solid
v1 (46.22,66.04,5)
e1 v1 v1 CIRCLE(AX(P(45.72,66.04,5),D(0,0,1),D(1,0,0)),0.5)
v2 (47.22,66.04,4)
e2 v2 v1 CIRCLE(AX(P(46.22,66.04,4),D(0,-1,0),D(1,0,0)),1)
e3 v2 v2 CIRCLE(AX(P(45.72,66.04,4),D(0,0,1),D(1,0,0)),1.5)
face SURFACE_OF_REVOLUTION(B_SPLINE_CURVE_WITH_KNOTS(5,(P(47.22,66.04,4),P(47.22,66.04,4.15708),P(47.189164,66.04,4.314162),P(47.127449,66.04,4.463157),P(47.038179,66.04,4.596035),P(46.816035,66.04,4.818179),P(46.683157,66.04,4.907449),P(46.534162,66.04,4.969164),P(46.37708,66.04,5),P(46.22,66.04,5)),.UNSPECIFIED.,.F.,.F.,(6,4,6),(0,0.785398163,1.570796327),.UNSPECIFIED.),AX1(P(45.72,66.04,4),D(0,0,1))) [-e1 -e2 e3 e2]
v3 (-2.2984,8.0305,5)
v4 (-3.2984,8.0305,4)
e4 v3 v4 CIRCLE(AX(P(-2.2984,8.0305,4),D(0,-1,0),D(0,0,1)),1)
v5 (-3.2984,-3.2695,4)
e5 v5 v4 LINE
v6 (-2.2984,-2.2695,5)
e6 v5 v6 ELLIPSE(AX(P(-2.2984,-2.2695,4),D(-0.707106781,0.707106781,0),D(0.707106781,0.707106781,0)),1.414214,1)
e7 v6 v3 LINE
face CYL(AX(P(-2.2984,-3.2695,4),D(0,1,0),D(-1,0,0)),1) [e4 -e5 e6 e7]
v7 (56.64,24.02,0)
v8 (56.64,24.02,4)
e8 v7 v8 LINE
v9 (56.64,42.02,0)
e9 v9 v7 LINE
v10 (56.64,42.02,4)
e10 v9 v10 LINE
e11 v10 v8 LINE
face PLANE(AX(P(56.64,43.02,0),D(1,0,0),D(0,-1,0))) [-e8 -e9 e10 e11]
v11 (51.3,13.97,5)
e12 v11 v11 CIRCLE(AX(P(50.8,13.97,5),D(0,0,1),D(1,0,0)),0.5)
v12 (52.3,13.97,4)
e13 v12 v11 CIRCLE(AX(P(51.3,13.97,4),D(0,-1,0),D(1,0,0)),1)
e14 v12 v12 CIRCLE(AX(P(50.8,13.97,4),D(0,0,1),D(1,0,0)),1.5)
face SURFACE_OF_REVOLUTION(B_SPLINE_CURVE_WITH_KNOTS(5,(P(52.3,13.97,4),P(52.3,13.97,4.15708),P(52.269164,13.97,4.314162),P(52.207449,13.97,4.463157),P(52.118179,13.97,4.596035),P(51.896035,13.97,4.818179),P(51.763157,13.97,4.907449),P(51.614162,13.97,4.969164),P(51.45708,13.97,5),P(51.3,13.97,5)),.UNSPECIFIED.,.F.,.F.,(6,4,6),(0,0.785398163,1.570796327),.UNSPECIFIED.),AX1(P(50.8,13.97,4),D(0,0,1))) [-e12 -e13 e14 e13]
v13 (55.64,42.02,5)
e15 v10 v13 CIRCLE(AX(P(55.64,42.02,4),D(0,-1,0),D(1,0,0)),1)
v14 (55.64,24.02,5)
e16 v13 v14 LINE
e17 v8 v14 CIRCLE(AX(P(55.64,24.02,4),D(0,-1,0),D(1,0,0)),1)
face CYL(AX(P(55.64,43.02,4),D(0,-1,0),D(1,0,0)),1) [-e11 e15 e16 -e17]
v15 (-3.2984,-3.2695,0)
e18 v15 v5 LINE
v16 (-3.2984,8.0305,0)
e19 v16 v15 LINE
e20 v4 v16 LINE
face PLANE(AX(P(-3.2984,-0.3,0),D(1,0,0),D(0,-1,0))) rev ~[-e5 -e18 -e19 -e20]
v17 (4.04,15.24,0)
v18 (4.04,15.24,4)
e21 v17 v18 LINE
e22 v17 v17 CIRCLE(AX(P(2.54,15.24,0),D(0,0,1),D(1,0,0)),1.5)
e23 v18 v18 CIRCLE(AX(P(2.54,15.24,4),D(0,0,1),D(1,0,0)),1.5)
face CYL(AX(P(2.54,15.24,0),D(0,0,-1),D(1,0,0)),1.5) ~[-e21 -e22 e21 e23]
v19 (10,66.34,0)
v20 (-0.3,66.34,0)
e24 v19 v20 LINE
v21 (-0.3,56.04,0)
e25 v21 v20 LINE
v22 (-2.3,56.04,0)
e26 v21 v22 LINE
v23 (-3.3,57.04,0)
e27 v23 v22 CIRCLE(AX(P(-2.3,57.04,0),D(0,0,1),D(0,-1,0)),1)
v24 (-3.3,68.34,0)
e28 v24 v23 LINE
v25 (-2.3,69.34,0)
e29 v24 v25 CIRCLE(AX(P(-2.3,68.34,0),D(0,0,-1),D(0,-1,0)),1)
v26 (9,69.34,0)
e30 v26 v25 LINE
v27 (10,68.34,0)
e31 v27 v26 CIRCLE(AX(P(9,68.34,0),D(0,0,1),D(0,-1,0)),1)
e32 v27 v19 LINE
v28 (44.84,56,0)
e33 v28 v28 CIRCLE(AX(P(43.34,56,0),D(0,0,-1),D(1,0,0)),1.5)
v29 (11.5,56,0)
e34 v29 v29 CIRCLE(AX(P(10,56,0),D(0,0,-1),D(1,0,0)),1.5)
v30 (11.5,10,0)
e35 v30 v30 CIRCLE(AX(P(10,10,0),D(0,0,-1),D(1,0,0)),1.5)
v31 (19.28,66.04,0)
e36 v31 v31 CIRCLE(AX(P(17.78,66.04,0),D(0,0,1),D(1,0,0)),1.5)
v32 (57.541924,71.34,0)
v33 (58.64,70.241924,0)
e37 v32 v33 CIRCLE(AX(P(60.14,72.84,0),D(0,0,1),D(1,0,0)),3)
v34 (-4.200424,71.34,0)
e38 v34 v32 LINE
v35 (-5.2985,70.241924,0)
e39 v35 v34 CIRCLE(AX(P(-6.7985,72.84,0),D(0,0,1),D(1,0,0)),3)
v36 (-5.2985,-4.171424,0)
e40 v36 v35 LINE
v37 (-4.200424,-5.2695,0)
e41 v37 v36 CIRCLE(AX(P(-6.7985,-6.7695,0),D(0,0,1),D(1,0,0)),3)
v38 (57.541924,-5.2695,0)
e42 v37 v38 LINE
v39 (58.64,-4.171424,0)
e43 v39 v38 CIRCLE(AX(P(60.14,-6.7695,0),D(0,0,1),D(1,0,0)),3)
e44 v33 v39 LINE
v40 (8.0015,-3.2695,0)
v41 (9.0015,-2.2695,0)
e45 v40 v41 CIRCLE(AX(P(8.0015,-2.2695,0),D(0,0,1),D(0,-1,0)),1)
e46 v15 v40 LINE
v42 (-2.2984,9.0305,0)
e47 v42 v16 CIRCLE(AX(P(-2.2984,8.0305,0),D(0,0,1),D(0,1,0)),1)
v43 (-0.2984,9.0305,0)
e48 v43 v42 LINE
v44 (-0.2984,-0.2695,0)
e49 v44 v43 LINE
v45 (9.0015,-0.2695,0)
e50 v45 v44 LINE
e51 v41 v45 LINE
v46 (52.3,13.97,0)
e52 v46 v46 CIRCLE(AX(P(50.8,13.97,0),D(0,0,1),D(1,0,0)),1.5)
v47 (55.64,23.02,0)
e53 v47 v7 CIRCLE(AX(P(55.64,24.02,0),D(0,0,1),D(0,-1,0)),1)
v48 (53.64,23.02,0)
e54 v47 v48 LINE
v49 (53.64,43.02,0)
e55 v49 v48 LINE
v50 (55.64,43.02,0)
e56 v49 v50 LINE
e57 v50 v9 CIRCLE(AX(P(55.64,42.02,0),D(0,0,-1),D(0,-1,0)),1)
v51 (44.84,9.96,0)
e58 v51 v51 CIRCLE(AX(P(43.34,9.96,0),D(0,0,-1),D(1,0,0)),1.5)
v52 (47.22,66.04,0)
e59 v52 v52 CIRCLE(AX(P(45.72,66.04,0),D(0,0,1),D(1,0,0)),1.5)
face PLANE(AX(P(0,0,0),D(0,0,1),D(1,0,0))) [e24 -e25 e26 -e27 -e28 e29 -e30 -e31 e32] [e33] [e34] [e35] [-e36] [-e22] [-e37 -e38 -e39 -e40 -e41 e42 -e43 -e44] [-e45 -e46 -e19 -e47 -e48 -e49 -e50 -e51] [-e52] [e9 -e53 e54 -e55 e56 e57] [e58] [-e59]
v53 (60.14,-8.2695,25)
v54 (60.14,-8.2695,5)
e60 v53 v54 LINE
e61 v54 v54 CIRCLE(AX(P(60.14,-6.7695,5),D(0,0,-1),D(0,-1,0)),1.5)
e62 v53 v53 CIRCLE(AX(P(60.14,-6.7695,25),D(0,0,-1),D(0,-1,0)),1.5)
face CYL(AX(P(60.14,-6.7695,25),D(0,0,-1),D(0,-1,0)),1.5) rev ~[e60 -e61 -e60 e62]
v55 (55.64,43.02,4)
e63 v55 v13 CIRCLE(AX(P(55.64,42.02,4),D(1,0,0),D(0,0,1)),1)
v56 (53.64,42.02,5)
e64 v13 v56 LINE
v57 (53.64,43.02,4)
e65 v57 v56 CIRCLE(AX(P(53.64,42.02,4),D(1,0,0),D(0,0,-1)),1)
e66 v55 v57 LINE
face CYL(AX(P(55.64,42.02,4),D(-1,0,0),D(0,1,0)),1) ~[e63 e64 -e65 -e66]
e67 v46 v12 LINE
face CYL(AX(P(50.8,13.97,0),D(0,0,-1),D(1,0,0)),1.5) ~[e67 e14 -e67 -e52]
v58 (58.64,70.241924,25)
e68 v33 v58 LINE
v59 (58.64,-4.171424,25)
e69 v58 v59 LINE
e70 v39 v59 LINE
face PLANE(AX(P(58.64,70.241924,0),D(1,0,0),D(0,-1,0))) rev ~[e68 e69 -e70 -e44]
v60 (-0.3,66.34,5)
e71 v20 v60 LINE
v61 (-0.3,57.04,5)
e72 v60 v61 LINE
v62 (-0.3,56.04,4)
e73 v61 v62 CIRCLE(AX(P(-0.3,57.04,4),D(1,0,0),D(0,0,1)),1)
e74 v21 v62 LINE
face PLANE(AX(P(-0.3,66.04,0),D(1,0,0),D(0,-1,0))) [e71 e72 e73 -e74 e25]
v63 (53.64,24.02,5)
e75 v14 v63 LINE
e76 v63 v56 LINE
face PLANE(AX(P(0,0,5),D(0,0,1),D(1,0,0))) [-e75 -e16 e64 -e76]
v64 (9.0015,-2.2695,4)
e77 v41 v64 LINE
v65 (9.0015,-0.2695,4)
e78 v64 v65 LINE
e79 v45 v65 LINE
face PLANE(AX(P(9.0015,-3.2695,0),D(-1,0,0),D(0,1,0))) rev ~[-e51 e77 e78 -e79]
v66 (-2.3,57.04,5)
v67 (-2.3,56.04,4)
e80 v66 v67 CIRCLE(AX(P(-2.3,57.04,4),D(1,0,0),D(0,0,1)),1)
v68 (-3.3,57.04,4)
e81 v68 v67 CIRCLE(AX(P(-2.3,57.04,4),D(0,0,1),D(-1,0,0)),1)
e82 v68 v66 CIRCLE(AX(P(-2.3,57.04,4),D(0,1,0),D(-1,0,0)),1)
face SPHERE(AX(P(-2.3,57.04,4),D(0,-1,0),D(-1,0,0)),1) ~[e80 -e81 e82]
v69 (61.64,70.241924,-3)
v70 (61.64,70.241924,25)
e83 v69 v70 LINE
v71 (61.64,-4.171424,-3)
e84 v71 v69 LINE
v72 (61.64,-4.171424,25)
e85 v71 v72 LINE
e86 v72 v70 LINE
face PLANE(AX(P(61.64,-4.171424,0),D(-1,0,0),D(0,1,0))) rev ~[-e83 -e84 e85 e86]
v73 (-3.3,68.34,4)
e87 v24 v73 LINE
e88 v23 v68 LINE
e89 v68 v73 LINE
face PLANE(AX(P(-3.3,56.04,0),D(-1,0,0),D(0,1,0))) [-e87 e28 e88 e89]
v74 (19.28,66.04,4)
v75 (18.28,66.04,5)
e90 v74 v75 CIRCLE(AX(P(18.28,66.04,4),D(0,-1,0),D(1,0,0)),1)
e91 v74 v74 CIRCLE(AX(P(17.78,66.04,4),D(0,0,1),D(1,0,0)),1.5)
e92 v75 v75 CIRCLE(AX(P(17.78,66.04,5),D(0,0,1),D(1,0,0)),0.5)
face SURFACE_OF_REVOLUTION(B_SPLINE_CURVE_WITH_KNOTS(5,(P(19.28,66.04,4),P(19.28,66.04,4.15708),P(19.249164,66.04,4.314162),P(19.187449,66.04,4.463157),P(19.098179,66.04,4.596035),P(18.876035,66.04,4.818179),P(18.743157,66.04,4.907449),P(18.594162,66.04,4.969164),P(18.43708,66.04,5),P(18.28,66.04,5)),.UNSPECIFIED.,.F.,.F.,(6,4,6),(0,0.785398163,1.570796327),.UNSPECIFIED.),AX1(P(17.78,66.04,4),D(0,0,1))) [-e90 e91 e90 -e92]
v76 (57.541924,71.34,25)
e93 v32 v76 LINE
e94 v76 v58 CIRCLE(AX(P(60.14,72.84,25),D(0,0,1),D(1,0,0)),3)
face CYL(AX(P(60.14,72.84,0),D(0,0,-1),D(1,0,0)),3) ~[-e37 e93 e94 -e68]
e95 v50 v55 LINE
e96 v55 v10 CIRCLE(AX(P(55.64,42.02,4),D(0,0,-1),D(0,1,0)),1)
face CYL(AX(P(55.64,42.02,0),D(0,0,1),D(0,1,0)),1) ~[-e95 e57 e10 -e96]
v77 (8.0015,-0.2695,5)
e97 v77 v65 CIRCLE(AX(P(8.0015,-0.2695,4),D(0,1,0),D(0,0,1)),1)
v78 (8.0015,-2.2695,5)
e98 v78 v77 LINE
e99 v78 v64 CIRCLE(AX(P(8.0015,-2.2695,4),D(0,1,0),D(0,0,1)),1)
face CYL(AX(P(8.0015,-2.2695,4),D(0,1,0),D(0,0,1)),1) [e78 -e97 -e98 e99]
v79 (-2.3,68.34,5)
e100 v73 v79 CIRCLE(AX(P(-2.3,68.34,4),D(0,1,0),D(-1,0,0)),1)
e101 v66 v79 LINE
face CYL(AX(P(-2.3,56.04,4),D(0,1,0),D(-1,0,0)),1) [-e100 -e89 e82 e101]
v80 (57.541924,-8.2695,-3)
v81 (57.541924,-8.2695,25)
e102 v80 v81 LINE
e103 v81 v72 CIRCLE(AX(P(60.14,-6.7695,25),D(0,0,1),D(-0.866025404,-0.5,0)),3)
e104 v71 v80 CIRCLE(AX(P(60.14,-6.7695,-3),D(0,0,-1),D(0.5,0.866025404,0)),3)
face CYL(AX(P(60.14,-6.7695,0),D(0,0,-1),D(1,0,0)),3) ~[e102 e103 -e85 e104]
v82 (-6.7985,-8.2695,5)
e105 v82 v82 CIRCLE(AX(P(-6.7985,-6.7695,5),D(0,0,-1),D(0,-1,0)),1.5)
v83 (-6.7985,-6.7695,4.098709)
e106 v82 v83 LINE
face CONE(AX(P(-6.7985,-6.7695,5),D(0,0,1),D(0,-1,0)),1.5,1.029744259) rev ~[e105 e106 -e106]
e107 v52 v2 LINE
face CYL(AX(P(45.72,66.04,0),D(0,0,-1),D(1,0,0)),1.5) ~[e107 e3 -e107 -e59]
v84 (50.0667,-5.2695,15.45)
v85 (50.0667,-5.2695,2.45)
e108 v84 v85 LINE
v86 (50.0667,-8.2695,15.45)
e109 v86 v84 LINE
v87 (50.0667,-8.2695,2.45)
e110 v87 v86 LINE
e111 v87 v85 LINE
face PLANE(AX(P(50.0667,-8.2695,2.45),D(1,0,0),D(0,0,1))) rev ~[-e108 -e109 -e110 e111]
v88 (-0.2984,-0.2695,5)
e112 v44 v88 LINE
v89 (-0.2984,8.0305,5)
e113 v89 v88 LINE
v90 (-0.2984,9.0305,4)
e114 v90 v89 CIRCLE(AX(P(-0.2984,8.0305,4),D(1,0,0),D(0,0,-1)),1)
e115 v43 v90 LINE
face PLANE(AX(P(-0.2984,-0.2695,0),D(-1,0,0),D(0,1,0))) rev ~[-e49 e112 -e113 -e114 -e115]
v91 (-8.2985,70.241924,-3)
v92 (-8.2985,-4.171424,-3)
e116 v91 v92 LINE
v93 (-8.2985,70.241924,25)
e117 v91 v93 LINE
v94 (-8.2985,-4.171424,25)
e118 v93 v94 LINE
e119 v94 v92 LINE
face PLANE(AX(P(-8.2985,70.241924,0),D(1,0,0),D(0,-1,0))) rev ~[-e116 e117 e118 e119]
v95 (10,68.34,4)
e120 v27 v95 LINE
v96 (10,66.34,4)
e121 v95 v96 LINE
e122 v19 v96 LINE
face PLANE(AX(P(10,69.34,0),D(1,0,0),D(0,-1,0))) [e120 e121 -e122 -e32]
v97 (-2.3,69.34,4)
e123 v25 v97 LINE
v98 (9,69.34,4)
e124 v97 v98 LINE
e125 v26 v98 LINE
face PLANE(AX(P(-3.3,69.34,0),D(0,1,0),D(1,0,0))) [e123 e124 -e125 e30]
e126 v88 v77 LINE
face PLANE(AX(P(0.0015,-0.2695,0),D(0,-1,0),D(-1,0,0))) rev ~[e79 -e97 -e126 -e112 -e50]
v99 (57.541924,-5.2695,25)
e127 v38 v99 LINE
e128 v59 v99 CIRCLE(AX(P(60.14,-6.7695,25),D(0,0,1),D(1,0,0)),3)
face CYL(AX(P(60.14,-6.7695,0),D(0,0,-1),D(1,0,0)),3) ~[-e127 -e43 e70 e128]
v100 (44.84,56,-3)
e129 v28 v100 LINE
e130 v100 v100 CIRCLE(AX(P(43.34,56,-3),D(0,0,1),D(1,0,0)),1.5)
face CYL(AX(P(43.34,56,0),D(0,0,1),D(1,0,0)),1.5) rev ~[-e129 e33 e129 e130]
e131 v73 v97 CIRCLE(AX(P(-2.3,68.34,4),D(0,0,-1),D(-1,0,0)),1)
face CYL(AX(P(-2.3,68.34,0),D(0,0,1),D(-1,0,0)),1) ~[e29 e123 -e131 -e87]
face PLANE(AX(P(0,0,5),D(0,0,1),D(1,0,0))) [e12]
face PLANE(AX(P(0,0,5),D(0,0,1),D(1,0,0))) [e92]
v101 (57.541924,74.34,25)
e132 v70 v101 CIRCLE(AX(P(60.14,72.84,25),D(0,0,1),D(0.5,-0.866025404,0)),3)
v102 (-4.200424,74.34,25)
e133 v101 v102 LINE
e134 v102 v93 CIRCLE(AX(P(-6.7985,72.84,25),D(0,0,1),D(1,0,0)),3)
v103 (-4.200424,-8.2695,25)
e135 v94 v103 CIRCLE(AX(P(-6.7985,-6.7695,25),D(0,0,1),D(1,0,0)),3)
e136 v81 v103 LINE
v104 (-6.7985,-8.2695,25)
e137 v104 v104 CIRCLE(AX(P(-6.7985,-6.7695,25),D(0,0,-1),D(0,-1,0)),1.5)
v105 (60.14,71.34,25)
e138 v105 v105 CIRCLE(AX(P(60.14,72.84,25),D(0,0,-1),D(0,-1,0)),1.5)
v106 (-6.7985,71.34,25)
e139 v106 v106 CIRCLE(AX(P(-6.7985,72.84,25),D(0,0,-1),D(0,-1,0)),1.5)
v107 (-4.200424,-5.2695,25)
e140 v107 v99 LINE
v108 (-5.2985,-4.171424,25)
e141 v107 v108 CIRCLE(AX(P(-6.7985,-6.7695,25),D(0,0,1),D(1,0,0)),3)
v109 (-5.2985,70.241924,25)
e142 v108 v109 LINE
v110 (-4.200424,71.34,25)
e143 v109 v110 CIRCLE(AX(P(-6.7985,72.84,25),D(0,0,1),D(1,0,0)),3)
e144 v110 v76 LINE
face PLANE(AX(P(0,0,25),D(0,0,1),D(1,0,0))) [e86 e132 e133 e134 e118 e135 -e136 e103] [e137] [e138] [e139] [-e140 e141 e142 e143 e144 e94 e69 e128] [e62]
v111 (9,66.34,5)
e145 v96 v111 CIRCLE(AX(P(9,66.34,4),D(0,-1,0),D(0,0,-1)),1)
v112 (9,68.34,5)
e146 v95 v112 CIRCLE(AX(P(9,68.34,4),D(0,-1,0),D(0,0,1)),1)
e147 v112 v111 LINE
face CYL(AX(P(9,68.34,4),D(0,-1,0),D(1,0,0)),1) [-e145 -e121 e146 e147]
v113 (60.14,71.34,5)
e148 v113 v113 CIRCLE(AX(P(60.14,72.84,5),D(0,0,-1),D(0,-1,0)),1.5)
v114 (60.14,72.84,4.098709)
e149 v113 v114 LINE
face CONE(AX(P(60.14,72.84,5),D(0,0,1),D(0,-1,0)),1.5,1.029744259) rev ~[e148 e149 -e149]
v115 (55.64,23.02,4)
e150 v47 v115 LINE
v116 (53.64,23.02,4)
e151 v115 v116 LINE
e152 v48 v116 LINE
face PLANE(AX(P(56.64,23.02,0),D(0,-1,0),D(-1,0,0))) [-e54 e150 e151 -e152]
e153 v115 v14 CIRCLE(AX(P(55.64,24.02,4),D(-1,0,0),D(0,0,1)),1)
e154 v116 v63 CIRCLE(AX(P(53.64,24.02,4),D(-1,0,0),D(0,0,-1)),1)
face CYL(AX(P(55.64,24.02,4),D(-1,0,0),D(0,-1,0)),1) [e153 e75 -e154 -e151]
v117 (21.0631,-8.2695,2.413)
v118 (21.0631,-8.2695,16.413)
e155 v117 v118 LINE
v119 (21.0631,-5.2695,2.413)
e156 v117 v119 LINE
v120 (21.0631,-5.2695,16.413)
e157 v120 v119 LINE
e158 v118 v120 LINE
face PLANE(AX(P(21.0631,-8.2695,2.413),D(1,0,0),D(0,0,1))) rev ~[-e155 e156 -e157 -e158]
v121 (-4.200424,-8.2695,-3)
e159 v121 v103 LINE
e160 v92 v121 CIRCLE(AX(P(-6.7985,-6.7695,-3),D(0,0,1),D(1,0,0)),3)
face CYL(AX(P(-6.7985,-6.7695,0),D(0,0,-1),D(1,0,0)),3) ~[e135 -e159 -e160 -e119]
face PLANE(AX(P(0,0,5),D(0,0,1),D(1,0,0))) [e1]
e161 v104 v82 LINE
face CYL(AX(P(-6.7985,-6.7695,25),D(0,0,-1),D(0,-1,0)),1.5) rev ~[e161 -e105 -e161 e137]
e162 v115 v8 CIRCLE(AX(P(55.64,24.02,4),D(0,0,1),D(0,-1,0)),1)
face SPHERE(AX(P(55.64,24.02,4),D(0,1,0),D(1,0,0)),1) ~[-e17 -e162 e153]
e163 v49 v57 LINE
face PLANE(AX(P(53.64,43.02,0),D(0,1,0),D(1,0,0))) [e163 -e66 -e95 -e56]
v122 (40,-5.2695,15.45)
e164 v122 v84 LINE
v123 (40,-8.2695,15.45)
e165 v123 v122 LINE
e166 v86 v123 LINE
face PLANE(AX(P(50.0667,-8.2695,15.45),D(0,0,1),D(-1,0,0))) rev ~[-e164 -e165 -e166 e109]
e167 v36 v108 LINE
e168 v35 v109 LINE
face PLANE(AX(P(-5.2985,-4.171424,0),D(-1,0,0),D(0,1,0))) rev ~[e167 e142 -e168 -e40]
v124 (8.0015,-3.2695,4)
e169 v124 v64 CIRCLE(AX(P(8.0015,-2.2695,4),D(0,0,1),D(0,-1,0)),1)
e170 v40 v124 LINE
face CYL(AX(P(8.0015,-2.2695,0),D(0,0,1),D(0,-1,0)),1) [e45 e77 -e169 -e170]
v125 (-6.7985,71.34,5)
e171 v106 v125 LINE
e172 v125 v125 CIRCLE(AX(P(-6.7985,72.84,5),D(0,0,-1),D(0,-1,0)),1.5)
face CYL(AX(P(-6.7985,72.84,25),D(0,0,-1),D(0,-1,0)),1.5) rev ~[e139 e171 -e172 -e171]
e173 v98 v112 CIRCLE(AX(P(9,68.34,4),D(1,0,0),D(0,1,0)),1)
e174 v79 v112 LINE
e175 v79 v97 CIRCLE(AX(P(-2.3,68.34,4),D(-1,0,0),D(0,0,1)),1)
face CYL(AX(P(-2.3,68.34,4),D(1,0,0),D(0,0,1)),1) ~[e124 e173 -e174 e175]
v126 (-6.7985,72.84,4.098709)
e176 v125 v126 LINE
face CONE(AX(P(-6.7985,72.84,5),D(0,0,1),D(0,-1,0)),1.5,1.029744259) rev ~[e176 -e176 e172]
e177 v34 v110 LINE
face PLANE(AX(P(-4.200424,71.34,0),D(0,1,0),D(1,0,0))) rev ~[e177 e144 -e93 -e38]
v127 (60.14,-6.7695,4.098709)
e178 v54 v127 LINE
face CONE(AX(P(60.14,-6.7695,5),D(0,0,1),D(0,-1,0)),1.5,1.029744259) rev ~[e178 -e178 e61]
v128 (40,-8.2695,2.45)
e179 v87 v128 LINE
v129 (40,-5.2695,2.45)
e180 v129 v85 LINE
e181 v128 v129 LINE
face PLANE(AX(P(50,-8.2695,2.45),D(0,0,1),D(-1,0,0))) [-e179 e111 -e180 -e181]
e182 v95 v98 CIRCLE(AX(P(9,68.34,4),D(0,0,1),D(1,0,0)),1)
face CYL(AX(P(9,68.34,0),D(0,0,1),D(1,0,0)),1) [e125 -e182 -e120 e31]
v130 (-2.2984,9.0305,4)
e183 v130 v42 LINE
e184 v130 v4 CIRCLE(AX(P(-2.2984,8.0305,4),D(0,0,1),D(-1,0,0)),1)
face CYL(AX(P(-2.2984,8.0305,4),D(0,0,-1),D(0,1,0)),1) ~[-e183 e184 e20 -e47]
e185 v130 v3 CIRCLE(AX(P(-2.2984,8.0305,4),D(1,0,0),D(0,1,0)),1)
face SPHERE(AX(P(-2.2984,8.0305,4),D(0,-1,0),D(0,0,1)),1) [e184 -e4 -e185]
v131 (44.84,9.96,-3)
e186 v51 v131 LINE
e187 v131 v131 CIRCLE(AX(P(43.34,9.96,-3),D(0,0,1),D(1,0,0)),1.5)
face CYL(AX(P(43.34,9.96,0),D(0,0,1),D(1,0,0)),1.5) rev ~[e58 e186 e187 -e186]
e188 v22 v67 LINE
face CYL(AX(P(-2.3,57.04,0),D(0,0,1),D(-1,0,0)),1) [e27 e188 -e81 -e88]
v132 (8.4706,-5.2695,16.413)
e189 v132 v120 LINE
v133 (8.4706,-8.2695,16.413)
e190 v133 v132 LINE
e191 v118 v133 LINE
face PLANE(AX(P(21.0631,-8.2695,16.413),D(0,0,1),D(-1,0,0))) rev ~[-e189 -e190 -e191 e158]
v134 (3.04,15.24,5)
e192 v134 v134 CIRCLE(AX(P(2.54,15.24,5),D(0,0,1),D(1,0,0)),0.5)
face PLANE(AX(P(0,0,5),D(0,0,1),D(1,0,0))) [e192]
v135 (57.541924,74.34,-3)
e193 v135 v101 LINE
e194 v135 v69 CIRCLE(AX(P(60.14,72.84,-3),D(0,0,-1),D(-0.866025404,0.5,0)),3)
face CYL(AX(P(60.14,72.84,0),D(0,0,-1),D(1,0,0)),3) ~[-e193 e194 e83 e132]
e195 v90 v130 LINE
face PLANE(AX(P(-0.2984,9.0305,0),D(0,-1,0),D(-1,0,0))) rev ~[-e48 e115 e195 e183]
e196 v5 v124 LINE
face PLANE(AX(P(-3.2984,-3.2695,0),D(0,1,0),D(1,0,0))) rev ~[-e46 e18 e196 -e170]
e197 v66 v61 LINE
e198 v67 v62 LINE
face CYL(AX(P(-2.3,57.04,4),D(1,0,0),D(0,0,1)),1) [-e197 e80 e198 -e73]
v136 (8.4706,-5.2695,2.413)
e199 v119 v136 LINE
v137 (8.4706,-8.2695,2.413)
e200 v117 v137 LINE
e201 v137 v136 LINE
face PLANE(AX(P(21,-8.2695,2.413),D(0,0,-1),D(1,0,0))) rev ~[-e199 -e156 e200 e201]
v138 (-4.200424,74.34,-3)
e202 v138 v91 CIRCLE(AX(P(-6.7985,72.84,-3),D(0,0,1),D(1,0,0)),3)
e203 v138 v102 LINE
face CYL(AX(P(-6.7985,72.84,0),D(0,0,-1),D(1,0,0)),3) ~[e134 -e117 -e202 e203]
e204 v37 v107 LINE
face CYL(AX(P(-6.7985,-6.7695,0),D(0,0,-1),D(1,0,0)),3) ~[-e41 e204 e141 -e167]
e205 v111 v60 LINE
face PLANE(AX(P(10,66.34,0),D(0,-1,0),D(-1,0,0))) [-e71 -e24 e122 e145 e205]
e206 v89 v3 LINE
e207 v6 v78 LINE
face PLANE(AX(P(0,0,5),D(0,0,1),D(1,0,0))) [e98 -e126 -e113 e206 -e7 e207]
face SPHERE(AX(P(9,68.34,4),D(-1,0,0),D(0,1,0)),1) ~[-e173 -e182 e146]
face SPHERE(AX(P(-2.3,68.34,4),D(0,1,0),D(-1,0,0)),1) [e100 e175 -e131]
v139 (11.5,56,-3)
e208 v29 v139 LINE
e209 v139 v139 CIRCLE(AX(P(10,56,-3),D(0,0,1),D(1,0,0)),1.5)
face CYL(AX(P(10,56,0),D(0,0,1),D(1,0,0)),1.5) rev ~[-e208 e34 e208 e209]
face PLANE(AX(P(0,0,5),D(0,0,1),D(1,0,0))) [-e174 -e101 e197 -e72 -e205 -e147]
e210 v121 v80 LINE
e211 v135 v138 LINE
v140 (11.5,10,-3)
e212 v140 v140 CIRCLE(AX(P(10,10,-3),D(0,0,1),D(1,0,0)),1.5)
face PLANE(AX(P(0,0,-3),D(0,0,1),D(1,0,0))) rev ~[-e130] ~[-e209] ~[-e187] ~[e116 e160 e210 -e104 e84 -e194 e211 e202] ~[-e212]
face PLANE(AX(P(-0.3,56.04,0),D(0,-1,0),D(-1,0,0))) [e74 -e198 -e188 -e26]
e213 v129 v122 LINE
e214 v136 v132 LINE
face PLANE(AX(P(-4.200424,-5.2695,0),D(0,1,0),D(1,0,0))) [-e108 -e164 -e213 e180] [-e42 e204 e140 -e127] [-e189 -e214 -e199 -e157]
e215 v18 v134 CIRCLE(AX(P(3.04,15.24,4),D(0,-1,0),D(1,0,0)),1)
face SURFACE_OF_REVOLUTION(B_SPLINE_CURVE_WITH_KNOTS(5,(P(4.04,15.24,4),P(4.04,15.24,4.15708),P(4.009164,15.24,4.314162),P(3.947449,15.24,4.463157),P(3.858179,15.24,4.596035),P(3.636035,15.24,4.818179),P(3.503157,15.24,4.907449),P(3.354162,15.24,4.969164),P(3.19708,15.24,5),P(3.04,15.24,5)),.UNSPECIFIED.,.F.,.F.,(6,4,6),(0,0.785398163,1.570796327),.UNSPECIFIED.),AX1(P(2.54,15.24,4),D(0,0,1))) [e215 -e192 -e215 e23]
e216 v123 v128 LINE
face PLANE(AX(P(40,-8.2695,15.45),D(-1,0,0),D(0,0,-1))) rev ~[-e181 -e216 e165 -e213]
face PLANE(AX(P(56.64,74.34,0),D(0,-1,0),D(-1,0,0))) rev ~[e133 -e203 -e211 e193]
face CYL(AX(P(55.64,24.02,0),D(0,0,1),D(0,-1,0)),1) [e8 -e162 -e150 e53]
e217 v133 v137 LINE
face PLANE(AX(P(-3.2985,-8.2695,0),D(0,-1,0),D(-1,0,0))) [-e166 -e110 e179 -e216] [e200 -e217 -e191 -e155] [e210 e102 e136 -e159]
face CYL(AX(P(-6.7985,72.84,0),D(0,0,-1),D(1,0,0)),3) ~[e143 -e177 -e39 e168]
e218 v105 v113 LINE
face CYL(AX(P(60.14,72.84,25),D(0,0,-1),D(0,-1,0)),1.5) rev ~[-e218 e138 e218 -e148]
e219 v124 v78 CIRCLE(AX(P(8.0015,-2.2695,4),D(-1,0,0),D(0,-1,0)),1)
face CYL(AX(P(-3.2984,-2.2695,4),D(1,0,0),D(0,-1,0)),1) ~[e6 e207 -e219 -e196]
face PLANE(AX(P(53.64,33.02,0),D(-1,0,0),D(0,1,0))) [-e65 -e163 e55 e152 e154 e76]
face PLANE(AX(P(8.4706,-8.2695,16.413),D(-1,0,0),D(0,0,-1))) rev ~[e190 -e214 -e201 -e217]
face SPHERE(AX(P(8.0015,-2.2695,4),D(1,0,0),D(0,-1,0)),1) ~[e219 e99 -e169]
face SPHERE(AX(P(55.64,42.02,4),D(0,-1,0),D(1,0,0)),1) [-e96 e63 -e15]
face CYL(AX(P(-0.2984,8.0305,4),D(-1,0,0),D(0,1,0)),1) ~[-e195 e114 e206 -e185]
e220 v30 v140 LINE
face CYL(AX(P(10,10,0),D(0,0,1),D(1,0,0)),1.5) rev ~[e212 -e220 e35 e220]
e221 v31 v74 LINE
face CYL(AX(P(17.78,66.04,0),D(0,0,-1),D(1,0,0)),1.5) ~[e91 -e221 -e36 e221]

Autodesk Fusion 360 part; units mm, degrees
sketch "Esquisse1" plane through (0, 0, 0) normal (0, 0, 1) x (1, 0, 0)
  line L0 (0, 0) -> (53.34, 0)
  line L1 (53.34, 0) -> (53.34, 66.04)
  line L2 (48.06, 68.58) -> (15.49, 68.58)
  line L3 (0, 66.04) -> (0, 0)
  line L4 (12.95, 66.04) -> (0, 66.04)
  line L5 (12.95, 66.04) -> (15.49, 68.58)
  line L6 (12.95, 66.04) -> (16.5421, 66.04) construction
  line L7 (50.6, 66.04) -> (53.34, 66.04)
  line L8 (50.6, 66.04) -> (48.06, 68.58)
  line L9 (50.6, 66.04) -> (54.1921, 66.04) construction
  line L10 (0, 0) -> (2.54, 0)
  line L11 (0, 15.24) -> (0, 0)
  line L12 (53.34, 0) -> (50.8, 0)
  line L13 (53.34, 13.97) -> (53.34, 0)
  line L14 (53.34, 66.04) -> (50.6, 66.04)
  line L15 (0, 66.04) -> (12.95, 66.04)
  line L16 (-0.3, 66.04) -> (-0.3, 56.04)
  line L17 (0, 56.04) -> (0, 66.04)
  line L18 (0, 66.04) -> (10, 66.04)
  line L19 (10, 66.34) -> (-0.3, 66.34)
  line L20 (-0.3, 66.34) -> (-0.3, 66.04)
  line L21 (-0.3, 56.04) -> (-3.3, 56.04)
  line L22 (-3.3, 56.04) -> (-3.3, 66.34)
  line L23 (-0.3, 66.34) -> (-0.3, 56.04)
  line L24 (10, 66.34) -> (-0.3, 66.34)
  line L25 (-0.3, 69.34) -> (10, 69.34)
  line L26 (10, 69.34) -> (10, 66.34)
  line L27 (-3.3, 66.34) -> (-3.3, 69.34)
  line L28 (-3.3, 69.34) -> (-0.3, 69.34)
  line L29 (-0.2984, 0.0305) -> (-0.2984, 9.0305)
  line L30 (0, 9) -> (0, 0)
  line L31 (0, 0) -> (9.0015, 0)
  line L32 (9.0015, -0.2695) -> (-0.2984, -0.2695)
  line L33 (-0.2984, -0.2695) -> (-0.2984, 0.0305)
  line L34 (-0.2984, 9.0305) -> (-3.2984, 9.0305)
  line L35 (-3.2984, 9.0305) -> (-3.2984, -0.3)
  line L36 (-0.2984, -0.2695) -> (-0.2984, 9.0305)
  line L37 (9.0015, -0.2695) -> (0.0015, -0.2695)
  line L38 (0, 0) -> (0, 2.7305)
  line L39 (9.0015, -0.2695) -> (-0.2984, -0.2695)
  line L40 (-3.2984, -0.3) -> (-3.2984, -3.2695)
  line L41 (-3.2984, -3.2695) -> (9.0015, -3.2695)
  line L42 (9.0015, -3.2695) -> (9.0015, -0.2695)
  line L43 (53.34, 0) -> (53.34, 33.02)
  line L44 (53.64, 33.02) -> (53.64, 43.02)
  line L45 (53.34, 43.02) -> (53.34, 33.02)
  line L46 (53.64, 33.02) -> (53.64, 23.02)
  line L47 (53.64, 43.02) -> (56.64, 43.02)
  line L48 (56.64, 43.02) -> (56.64, 23.02)
  line L49 (56.64, 23.02) -> (53.64, 23.02)
  line L50 (53.64, 23.02) -> (53.64, 43.02)
  circle A0 centre (45.72, 66.04) radius 1.5
  circle A1 centre (17.78, 66.04) radius 1.5
  circle A2 centre (50.8, 13.97) radius 1.5
  circle A3 centre (2.54, 15.24) radius 1.5
  line L51 (-3.2985, -8.2695) -> (-8.2985, -8.2695)
  line L52 (56.64, 74.34) -> (61.64, 74.34)
  line L53 (-8.2985, -8.2695) -> (61.64, -8.2695)
  line L54 (61.64, -8.2695) -> (61.64, 74.34)
  line L55 (61.64, 74.34) -> (-8.2985, 74.34)
  line L56 (-8.2985, 74.34) -> (-8.2985, -8.2695)
  line L57 (-8.2985, 74.34) -> (-8.2985, 71.34)
  line L58 (-5.2985, 71.34) -> (58.64, 71.34)
  line L59 (-8.2985, -8.2695) -> (-5.2985, -8.2695)
  line L60 (-8.2985, -5.2695) -> (-8.2985, -8.2695)
  line L61 (-5.2985, -5.2695) -> (-5.2985, 71.34)
  line L62 (61.64, -8.2695) -> (58.64, -8.2695)
  line L63 (61.64, -5.2695) -> (61.64, -8.2695)
  line L64 (61.64, 74.34) -> (58.64, 74.34)
  line L65 (61.64, 71.34) -> (61.64, 74.34)
  line L66 (58.64, 71.34) -> (58.64, -5.2695)
  line L67 (-5.2985, -5.2695) -> (58.64, -5.2695)
  line L68 (61.64, 74.34) -> (60.14, 74.34)
  line L69 (60.14, 74.34) -> (60.14, 72.84)
  line L70 (60.14, 72.84) -> (61.64, 72.84)
  line L71 (61.64, 72.84) -> (61.64, 74.34)
  circle A4 centre (60.14, 72.84) radius 3
  line L72 (61.64, -8.2695) -> (60.14, -8.2695)
  line L73 (60.14, -8.2695) -> (60.14, -6.7695)
  line L74 (60.14, -6.7695) -> (61.64, -6.7695)
  line L75 (61.64, -6.7695) -> (61.64, -8.2695)
  circle A5 centre (60.14, -6.7695) radius 3
  line L76 (-8.2985, -8.2695) -> (-6.7985, -8.2695)
  line L77 (-6.7985, -8.2695) -> (-6.7985, -6.7695)
  line L78 (-6.7985, -6.7695) -> (-8.2985, -6.7695)
  line L79 (-8.2985, -6.7695) -> (-8.2985, -8.2695)
  circle A6 centre (-6.7985, -6.7695) radius 3
  line L80 (-8.2985, 74.34) -> (-6.7985, 74.34)
  line L81 (-6.7985, 74.34) -> (-6.7985, 72.84)
  line L82 (-6.7985, 72.84) -> (-8.2985, 72.84)
  line L83 (-8.2985, 72.84) -> (-8.2985, 74.34)
  circle A7 centre (-6.7985, 72.84) radius 3
  dimension "LargeurArduino" = 53.34
  dimension "d5" = 45
  dimension "d8" = 135
  dimension "d9" = 17.78
  dimension "d10" = 7.62
  dimension "d13" = 2.54
  dimension "d14" = 15.24
  dimension "d15" = 2.54
  dimension "d16" = 13.97
  dimension "DistanceMorsArduino" = 0.3
  dimension "d27" = 10
  dimension "d28" = 10.3
  dimension "d29" = 0.3
  dimension "d30" = 3
  dimension "d31" = 10.3
  dimension "d32" = 10.3
  dimension "d33" = 3
  dimension "d34" = 3
  dimension "d35" = 3
  dimension "d36" = 0.3
  dimension "d37" = 9
  dimension "d38" = 9.3
  dimension "d39" = 0.3
  dimension "d40" = 3
  dimension "d41" = 9.3
  dimension "d42" = 9
  dimension "d44" = 12.3
  dimension "d45" = 3
  dimension "d46" = 33.02
  dimension "d47" = 0.3
  dimension "d48" = 10
  dimension "d49" = 0.3
  dimension "d51" = 3
  dimension "d52" = 20
  dimension "d54" = 3
  dimension "d55" = 3
  dimension "d56" = 3
  dimension "d59" = 5
  dimension "d60" = 5
  dimension "d63" = 5
  dimension "EpaisseurBoitier" = 3
  dimension "d65" = 3
  dimension "d66" = 3
  dimension "d67" = 3
  dimension "d68" = 3
  dimension "d69" = 3
  dimension "d70" = 3
  dimension "d71" = 3
  dimension "d72" = 1.5
  dimension "d73" = 1.5
  dimension "d74" = 6
  dimension "d75" = 1.5
  dimension "d76" = 1.5
  dimension "d77" = 6
  dimension "d78" = 1.5
  dimension "d79" = 1.5
  dimension "d80" = 6
  dimension "d81" = 1.5
  dimension "d82" = 1.5
  dimension "d83" = 6
sketch "Esquisse2" plane through (0, 0, 0) normal (0, 0, 1) x (1, 0, 0)
extrude "Extrusion1" add sketch "Esquisse1" against normal blind 3 contours L0 L1 L2 L3 L4 L5 L7 L8 L10 L11 L12 L13 L14 L15 L17 L18 L30 L31 L38 L43 L45 | L16 L19 L20 L21 L22 L23 L24 L25 L26 L27 L28 | L29 L32 L33 L34 L35 L36 L37 L39 L40 L41 L42 | L44 L46 L47 L48 L49 L50 | A0 | A1 | A2 | A3 | L51 L53 L56 L59 L60 L76 L79 A6 | L51 L53 L56 L59 L60 L61 L67 L77 L78 A6 | L51 L53 L56 L59 L60 L76 L77 L78 L79 | L51 L53 L67 A5 A6 | L56 L61 A6 A7 | L53 L54 L62 L63 L66 L67 L73 L74 A5 | L53 L54 L62 L63 L72 L75 A5 | L55 L56 L57 L80 L83 A7 | L55 L56 L57 L58 L61 L81 L82 A7 | L61 L67 A6 | L58 L61 L66 L67 A4 A5 A6 A7 | L66 L67 A5 | L52 L55 L58 A4 A7 | L58 L61 A7 | L53 L54 L62 L63 L72 L73 L74 L75 | L54 L66 A4 A5 | L55 L56 L57 L80 L81 L82 L83 | L58 L66 A4 | L52 L54 L55 L58 L64 L65 L66 L69 L70 A4 | L52 L54 L55 L64 L65 L68 L71 A4 | L52 L54 L55 L64 L65 L68 L69 L70 L71
extrude "Extrusion2" add sketch "Esquisse1" along normal blind 5 contours L16 L19 L20 L21 L22 L23 L24 L25 L26 L27 L28 | L29 L32 L33 L34 L35 L36 L37 L39 L40 L41 L42 | L44 L46 L47 L48 L49 L50
extrude "Extrusion3" add sketch "Esquisse1" along normal blind 25 contours L51 L53 L56 L59 L60 L76 L79 A6 | L51 L53 L56 L59 L60 L61 L67 L77 L78 A6 | L51 L53 L56 L59 L60 L76 L77 L78 L79 | L51 L53 L67 A5 A6 | L56 L61 A6 A7 | L53 L54 L62 L63 L66 L67 L73 L74 A5 | L53 L54 L62 L63 L72 L75 A5 | L55 L56 L57 L80 L83 A7 | L55 L56 L57 L58 L61 L81 L82 A7 | L61 L67 A6 | L66 L67 A5 | L52 L55 L58 A4 A7 | L58 L61 A7 | L53 L54 L62 L63 L72 L73 L74 L75 | L54 L66 A4 A5 | L55 L56 L57 L80 L81 L82 L83 | L58 L66 A4 | L52 L54 L55 L58 L64 L65 L66 L69 L70 A4 | L52 L54 L55 L64 L65 L68 L71 A4 | L52 L54 L55 L64 L65 L68 L69 L70 L71
extrude "Extrusion4" add sketch "Esquisse1" along normal blind 5 contours A0 | A1 | A2 | A3
fillet "Congé1" radius 1 1 edges at (16.3815, 65.4976, 5)
fillet "Congé2" radius 1 1 edges at (44.3215, 65.4976, 5)
fillet "Congé3" radius 1 1 edges at (49.4015, 13.4276, 5)
fillet "Congé4" radius 1 1 edges at (1.1415, 14.6976, 5)
fillet "Congé5" radius 1 1 edges at (-3.3, 62.69, 5)
fillet "Congé6" radius 1 4 edges at (3.85, 69.34, 5) (-3.0071, 69.34, 4.7071) (-3.3, 69.34, 2) (56.64, 33.02, 5)
fillet "Congé7" radius 1 2 edges at (2.8515, -3.2695, 5) (-3.2984, 2.8805, 5)
fillet "Congé8" radius 1 18 edges at (56.64, 23.02, 2) (56.3471, 23.02, 4.7071) (54.64, 23.02, 5) (56.64, 43.02, 2) (56.3471, 43.02, 4.7071) (54.64, 43.02, 5) (-3.3, 56.04, 2) (-3.0071, 56.04, 4.7071) (-1.3, 56.04, 5) (10, 67.34, 5) (10, 69.0471, 4.7071) (10, 69.34, 2) (-1.2984, 9.0305, 5) (-3.0056, 9.0305, 4.7071) (-3.2984, 9.0305, 2) (9.0015, -3.2695, 2) (9.0015, -2.9766, 4.7071) (9.0015, -1.2695, 5)
sketch "Esquisse3" plane through (0, 0, 0) normal (0, 0, 1) x (1, 0, 0)
  line L0 (0, 0) -> (9.3, 0)
  line L1 (9.3, 0) -> (20.35, 0)
  line L2 (20.35, 0) -> (20.35, 12.9937)
  line L3 (20.35, 12.9937) -> (9.3, 12.9937)
  line L4 (9.3, 12.9937) -> (9.3, 0)
  line L5 (53, 0) -> (49.82, 0)
  line L6 (49.82, 0) -> (39.84, 0)
  line L7 (39.84, 0) -> (50, 0)
  line L8 (50, 0) -> (50, 8)
  line L9 (50, 8) -> (39.84, 8)
  line L10 (39.84, 8) -> (39.84, 0)
  dimension "d108" = 9.3
  dimension "d109" = 11.05
  dimension "d110" = 3.18
  dimension "d111" = 9.98
extrude "Extrusion5" add sketch "Esquisse3" along normal blind 15.15 contours L1 L2 L3 L4
extrude "Extrusion6" add sketch "Esquisse3" along normal blind 13.45 contours L5 L6 L7 L8 L9 L10
sketch "Esquisse4" plane through (0, 0, 0) normal (0, 0, 1) x (1, 0, 0)
  line L0 (50, 0) -> (50, -8.5293)
  line L1 (20, 0) -> (20, -9)
  line L2 (9, 0) -> (9, -9)
  line L3 (9, -9) -> (20, -9)
  line L4 (40, 0) -> (40, -9)
  line L5 (40, -9) -> (50, -9)
  line L6 (50, -9) -> (50, -8.5293)
sketch "Esquisse5" plane through (0, -8.2695, 0) normal (0, -1, 0) x (1, 0, 0)
  line L0 (-4.2004, 25) -> (-4.2004, -3)
  line L1 (-4.2004, -3) -> (57.5419, -3)
  line L2 (57.5419, -3) -> (57.5419, 25)
  line L3 (57.5419, 25) -> (-4.2004, 25)
  line L4 (50, 0) -> (40, 0)
  line L5 (40, 0) -> (50, 0)
  line L6 (50, 0) -> (50, 2.45)
  line L7 (50, 2.45) -> (40, 2.45)
  line L8 (40, 2.45) -> (40, 0)
  line L9 (40, 2.45) -> (50.0667, 2.45)
  line L10 (50.0667, 2.45) -> (50.0667, 15.45)
  line L11 (50.0667, 15.45) -> (40, 15.45)
  line L12 (40, 15.45) -> (40, 2.45)
  line L13 (8.4706, -0.037) -> (21, -0.037)
  line L14 (21, -0.037) -> (21, 2.413)
  line L15 (21, 2.413) -> (8.4706, 2.413)
  line L16 (8.4706, 2.413) -> (8.4706, -0.037)
  line L17 (8.4706, 2.413) -> (21.0631, 2.413)
  line L18 (21.0631, 2.413) -> (21.0631, 16.413)
  line L19 (21.0631, 16.413) -> (8.4706, 16.413)
  line L20 (8.4706, 16.413) -> (8.4706, 2.413)
  dimension "d116" = 2.45
  dimension "d117" = 13
  dimension "d118" = 2.45
  dimension "d119" = 14
extrude "Extrusion7" cut sketch "Esquisse5" against normal blind 4 contours L7 L9 L10 L11 L12 | L15 L17 L18 L19 L20
extrude "Extrusion8" cut 1 faces at (12.9833, 8.6625, 15.15) along direction (0, 0, -1) blind 15
extrude "Extrusion9" cut 1 faces at (12.9833, 8.6625, 0.15) along direction (0, 0, -1) blind 0.15
extrude "Extrusion10" cut 1 faces at (46.6133, 2.6667, 13.45) along direction (0, 0, -1) blind 13.45
sketch "Esquisse6" plane through (0, 0, 0) normal (0, 0, 1) x (1, 0, 0)
  line L0 (0, 66) -> (53.34, 66)
  line L1 (53.34, 66) -> (53.34, -0.04)
  line L2 (53.34, -0.04) -> (0, -0.04)
  line L3 (0, -0.04) -> (0, 66)
  line L4 (53.34, 66) -> (43.34, 66)
  line L5 (43.34, 66) -> (43.34, 56)
  line L6 (43.34, 56) -> (53.34, 56)
  line L7 (53.34, 56) -> (53.34, 66)
  line L8 (0, 66) -> (10, 66)
  line L9 (10, 66) -> (10, 56)
  line L10 (10, 56) -> (0, 56)
  line L11 (0, 56) -> (0, 66)
  line L12 (53.34, -0.04) -> (43.34, -0.04)
  line L13 (43.34, -0.04) -> (43.34, 9.96)
  line L14 (43.34, 9.96) -> (53.34, 9.96)
  line L15 (53.34, 9.96) -> (53.34, -0.04)
  line L16 (0, 0) -> (10, 0)
  line L17 (10, 0) -> (10, 10)
  line L18 (10, 10) -> (0, 10)
  line L19 (0, 10) -> (0, 0)
  circle A0 centre (10, 10) radius 1.5
  circle A1 centre (43.34, 9.96) radius 1.5
  circle A2 centre (10, 56) radius 1.5
  circle A3 centre (43.34, 56) radius 1.5
  dimension "d128" = 53.34
  dimension "d129" = 66.04
  dimension "d130" = 10
  dimension "d131" = 10
  dimension "d132" = 10
  dimension "d133" = 10
  dimension "d134" = 10
  dimension "d135" = 10
  dimension "d136" = 10
  dimension "d137" = 10
  dimension "d139" = 3
  dimension "d140" = 3
  dimension "d141" = 3
extrude "Extrusion11" cut sketch "Esquisse6" against normal blind 9 contours L9 L10 A2 | L9 L10 A2
extrude "Extrusion12" cut sketch "Esquisse6" against normal blind 7 contours L5 L6 A3 | L5 L6 A3
extrude "Extrusion13" cut sketch "Esquisse6" against normal blind 6 contours L17 L18 A0 | L17 L18 A0
extrude "Extrusion14" cut sketch "Esquisse6" against normal blind 8 contours L13 L14 A1 | L13 L14 A1
sketch "Esquisse7" plane through (0, 0, 25) normal (0, 0, 1) x (-1, 0, 0)
  line L0 (-57.5419, 5.2695) -> (4.2004, 5.2695)
  arc A0 (4.2004, 5.2695) -> (5.2985, 4.1714) centre (6.7985, 6.7695) ccw
  line L1 (5.2985, 4.1714) -> (5.2985, -70.2419)
  arc A1 (5.2985, -70.2419) -> (4.2004, -71.34) centre (6.7985, -72.84) ccw
  line L2 (4.2004, -71.34) -> (-57.5419, -71.34)
  arc A2 (-57.5419, -71.34) -> (-58.64, -70.2419) centre (-60.14, -72.84) ccw
  line L3 (-58.64, -70.2419) -> (-58.64, 4.1714)
  arc A3 (-58.64, 4.1714) -> (-57.5419, 5.2695) centre (-60.14, 6.7695) ccw
  line L4 (-57.5419, -74.34) -> (4.2004, -74.34)
  arc A4 (4.2004, -74.34) -> (8.2985, -70.2419) centre (6.7985, -72.84) ccw
  line L5 (8.2985, -70.2419) -> (8.2985, 4.1714)
  arc A5 (8.2985, 4.1714) -> (4.2004, 8.2695) centre (6.7985, 6.7695) ccw
  line L6 (4.2004, 8.2695) -> (-57.5419, 8.2695)
  arc A6 (-57.5419, 8.2695) -> (-61.64, 4.1714) centre (-60.14, 6.7695) ccw
  line L7 (-61.64, 4.1714) -> (-61.64, -70.2419)
  arc A7 (-61.64, -70.2419) -> (-57.5419, -74.34) centre (-60.14, -72.84) ccw
  circle A8 centre (6.7985, -72.84) radius 1.5
  circle A9 centre (-60.14, -72.84) radius 1.5
  circle A10 centre (-60.14, 6.7695) radius 1.5
  circle A11 centre (6.7985, 6.7695) radius 1.5
  dimension "d150" = 3
  dimension "d151" = 3
  dimension "d152" = 3
  dimension "d153" = 3
hole "Perçage1" at (60.14, -6.7695, 25) at (-6.7985, -6.7695, 25) at (60.14, 72.84, 25) at (-6.7985, 72.84, 25) direction (0, 0, -1) diameter 3 depth 20 tip angle 118
sketch "Esquisse8" plane through (0, 0, 0) normal (0, 0, 1) x (1, 0, 0)
component "BoitierArduino" placed x (1, 0, 0) y (0, 1, 0) z (0, 0, 1) at (0, 0, 0)
equation "LongueurArduino = 68.58 mm"
equation "DiamètreArduino = 3.2 mm"
equation "LargeurBoitier = 90 mm"
equation "LongueurBoitier = 100 mm"
equation "EpaisseurMors = 3 mm"
equation "d29 = DistanceMorsArduino"
equation "d30 = EpaisseurMors"
equation "d33 = EpaisseurMors"
equation "d36 = DistanceMorsArduino"
equation "d39 = DistanceMorsArduino"
equation "d40 = EpaisseurMors"
equation "d45 = EpaisseurMors"
equation "d47 = DistanceMorsArduino"
equation "d49 = DistanceMorsArduino"
equation "d51 = EpaisseurMors"
equation "DiamètreMors = 3 mm"
equation "d54 = DiamètreMors"
equation "d55 = DiamètreMors"
equation "d56 = DiamètreMors"
equation "DistanceMorsBoitier = 5 mm"
equation "d59 = DistanceMorsBoitier"
equation "d60 = DistanceMorsBoitier"
equation "d63 = DistanceMorsBoitier"
equation "d65 = EpaisseurBoitier"
equation "d66 = EpaisseurBoitier"
equation "d67 = EpaisseurBoitier"
equation "d68 = EpaisseurBoitier"
equation "d69 = EpaisseurBoitier"
equation "d70 = EpaisseurBoitier"
equation "d71 = EpaisseurBoitier"
equation "d72 = EpaisseurBoitier / 2"
equation "d73 = EpaisseurBoitier / 2"
equation "d74 = EpaisseurBoitier * 2"
equation "d75 = EpaisseurBoitier / 2"
equation "d76 = EpaisseurBoitier / 2"
equation "d77 = EpaisseurBoitier * 2"
equation "d78 = EpaisseurBoitier / 2"
equation "d79 = EpaisseurBoitier / 2"
equation "d80 = EpaisseurBoitier * 2"
equation "d81 = EpaisseurBoitier / 2"
equation "d82 = EpaisseurBoitier / 2"
equation "d83 = EpaisseurBoitier * 2"
equation "d84 = -EpaisseurBoitier"
equation "HauteurMors = 5 mm"
equation "HauteurBoitier = 25 mm"
equation "d90 = HauteurMors"
equation "CongéMors = 1 mm"
equation "d95 = CongéMors"
equation "d97 = CongéMors"
equation "d99 = CongéMors"
equation "d101 = CongéMors"
equation "d103 = CongéMors"
equation "d105 = CongéMors"
equation "d107 = CongéMors"
equation "d128 = LargeurArduino"
equation "d129 = LongueurArduino - 2.54 mm"
equation "DiamètreVis = 3 mm"
equation "d139 = DiamètreVis"
equation "d140 = DiamètreVis"
equation "d141 = DiamètreVis"
equation "d150 = DiamètreVis"
equation "d151 = DiamètreVis"
equation "d152 = DiamètreVis"
equation "d153 = DiamètreVis"
equation "d155 = DiamètreVis"
